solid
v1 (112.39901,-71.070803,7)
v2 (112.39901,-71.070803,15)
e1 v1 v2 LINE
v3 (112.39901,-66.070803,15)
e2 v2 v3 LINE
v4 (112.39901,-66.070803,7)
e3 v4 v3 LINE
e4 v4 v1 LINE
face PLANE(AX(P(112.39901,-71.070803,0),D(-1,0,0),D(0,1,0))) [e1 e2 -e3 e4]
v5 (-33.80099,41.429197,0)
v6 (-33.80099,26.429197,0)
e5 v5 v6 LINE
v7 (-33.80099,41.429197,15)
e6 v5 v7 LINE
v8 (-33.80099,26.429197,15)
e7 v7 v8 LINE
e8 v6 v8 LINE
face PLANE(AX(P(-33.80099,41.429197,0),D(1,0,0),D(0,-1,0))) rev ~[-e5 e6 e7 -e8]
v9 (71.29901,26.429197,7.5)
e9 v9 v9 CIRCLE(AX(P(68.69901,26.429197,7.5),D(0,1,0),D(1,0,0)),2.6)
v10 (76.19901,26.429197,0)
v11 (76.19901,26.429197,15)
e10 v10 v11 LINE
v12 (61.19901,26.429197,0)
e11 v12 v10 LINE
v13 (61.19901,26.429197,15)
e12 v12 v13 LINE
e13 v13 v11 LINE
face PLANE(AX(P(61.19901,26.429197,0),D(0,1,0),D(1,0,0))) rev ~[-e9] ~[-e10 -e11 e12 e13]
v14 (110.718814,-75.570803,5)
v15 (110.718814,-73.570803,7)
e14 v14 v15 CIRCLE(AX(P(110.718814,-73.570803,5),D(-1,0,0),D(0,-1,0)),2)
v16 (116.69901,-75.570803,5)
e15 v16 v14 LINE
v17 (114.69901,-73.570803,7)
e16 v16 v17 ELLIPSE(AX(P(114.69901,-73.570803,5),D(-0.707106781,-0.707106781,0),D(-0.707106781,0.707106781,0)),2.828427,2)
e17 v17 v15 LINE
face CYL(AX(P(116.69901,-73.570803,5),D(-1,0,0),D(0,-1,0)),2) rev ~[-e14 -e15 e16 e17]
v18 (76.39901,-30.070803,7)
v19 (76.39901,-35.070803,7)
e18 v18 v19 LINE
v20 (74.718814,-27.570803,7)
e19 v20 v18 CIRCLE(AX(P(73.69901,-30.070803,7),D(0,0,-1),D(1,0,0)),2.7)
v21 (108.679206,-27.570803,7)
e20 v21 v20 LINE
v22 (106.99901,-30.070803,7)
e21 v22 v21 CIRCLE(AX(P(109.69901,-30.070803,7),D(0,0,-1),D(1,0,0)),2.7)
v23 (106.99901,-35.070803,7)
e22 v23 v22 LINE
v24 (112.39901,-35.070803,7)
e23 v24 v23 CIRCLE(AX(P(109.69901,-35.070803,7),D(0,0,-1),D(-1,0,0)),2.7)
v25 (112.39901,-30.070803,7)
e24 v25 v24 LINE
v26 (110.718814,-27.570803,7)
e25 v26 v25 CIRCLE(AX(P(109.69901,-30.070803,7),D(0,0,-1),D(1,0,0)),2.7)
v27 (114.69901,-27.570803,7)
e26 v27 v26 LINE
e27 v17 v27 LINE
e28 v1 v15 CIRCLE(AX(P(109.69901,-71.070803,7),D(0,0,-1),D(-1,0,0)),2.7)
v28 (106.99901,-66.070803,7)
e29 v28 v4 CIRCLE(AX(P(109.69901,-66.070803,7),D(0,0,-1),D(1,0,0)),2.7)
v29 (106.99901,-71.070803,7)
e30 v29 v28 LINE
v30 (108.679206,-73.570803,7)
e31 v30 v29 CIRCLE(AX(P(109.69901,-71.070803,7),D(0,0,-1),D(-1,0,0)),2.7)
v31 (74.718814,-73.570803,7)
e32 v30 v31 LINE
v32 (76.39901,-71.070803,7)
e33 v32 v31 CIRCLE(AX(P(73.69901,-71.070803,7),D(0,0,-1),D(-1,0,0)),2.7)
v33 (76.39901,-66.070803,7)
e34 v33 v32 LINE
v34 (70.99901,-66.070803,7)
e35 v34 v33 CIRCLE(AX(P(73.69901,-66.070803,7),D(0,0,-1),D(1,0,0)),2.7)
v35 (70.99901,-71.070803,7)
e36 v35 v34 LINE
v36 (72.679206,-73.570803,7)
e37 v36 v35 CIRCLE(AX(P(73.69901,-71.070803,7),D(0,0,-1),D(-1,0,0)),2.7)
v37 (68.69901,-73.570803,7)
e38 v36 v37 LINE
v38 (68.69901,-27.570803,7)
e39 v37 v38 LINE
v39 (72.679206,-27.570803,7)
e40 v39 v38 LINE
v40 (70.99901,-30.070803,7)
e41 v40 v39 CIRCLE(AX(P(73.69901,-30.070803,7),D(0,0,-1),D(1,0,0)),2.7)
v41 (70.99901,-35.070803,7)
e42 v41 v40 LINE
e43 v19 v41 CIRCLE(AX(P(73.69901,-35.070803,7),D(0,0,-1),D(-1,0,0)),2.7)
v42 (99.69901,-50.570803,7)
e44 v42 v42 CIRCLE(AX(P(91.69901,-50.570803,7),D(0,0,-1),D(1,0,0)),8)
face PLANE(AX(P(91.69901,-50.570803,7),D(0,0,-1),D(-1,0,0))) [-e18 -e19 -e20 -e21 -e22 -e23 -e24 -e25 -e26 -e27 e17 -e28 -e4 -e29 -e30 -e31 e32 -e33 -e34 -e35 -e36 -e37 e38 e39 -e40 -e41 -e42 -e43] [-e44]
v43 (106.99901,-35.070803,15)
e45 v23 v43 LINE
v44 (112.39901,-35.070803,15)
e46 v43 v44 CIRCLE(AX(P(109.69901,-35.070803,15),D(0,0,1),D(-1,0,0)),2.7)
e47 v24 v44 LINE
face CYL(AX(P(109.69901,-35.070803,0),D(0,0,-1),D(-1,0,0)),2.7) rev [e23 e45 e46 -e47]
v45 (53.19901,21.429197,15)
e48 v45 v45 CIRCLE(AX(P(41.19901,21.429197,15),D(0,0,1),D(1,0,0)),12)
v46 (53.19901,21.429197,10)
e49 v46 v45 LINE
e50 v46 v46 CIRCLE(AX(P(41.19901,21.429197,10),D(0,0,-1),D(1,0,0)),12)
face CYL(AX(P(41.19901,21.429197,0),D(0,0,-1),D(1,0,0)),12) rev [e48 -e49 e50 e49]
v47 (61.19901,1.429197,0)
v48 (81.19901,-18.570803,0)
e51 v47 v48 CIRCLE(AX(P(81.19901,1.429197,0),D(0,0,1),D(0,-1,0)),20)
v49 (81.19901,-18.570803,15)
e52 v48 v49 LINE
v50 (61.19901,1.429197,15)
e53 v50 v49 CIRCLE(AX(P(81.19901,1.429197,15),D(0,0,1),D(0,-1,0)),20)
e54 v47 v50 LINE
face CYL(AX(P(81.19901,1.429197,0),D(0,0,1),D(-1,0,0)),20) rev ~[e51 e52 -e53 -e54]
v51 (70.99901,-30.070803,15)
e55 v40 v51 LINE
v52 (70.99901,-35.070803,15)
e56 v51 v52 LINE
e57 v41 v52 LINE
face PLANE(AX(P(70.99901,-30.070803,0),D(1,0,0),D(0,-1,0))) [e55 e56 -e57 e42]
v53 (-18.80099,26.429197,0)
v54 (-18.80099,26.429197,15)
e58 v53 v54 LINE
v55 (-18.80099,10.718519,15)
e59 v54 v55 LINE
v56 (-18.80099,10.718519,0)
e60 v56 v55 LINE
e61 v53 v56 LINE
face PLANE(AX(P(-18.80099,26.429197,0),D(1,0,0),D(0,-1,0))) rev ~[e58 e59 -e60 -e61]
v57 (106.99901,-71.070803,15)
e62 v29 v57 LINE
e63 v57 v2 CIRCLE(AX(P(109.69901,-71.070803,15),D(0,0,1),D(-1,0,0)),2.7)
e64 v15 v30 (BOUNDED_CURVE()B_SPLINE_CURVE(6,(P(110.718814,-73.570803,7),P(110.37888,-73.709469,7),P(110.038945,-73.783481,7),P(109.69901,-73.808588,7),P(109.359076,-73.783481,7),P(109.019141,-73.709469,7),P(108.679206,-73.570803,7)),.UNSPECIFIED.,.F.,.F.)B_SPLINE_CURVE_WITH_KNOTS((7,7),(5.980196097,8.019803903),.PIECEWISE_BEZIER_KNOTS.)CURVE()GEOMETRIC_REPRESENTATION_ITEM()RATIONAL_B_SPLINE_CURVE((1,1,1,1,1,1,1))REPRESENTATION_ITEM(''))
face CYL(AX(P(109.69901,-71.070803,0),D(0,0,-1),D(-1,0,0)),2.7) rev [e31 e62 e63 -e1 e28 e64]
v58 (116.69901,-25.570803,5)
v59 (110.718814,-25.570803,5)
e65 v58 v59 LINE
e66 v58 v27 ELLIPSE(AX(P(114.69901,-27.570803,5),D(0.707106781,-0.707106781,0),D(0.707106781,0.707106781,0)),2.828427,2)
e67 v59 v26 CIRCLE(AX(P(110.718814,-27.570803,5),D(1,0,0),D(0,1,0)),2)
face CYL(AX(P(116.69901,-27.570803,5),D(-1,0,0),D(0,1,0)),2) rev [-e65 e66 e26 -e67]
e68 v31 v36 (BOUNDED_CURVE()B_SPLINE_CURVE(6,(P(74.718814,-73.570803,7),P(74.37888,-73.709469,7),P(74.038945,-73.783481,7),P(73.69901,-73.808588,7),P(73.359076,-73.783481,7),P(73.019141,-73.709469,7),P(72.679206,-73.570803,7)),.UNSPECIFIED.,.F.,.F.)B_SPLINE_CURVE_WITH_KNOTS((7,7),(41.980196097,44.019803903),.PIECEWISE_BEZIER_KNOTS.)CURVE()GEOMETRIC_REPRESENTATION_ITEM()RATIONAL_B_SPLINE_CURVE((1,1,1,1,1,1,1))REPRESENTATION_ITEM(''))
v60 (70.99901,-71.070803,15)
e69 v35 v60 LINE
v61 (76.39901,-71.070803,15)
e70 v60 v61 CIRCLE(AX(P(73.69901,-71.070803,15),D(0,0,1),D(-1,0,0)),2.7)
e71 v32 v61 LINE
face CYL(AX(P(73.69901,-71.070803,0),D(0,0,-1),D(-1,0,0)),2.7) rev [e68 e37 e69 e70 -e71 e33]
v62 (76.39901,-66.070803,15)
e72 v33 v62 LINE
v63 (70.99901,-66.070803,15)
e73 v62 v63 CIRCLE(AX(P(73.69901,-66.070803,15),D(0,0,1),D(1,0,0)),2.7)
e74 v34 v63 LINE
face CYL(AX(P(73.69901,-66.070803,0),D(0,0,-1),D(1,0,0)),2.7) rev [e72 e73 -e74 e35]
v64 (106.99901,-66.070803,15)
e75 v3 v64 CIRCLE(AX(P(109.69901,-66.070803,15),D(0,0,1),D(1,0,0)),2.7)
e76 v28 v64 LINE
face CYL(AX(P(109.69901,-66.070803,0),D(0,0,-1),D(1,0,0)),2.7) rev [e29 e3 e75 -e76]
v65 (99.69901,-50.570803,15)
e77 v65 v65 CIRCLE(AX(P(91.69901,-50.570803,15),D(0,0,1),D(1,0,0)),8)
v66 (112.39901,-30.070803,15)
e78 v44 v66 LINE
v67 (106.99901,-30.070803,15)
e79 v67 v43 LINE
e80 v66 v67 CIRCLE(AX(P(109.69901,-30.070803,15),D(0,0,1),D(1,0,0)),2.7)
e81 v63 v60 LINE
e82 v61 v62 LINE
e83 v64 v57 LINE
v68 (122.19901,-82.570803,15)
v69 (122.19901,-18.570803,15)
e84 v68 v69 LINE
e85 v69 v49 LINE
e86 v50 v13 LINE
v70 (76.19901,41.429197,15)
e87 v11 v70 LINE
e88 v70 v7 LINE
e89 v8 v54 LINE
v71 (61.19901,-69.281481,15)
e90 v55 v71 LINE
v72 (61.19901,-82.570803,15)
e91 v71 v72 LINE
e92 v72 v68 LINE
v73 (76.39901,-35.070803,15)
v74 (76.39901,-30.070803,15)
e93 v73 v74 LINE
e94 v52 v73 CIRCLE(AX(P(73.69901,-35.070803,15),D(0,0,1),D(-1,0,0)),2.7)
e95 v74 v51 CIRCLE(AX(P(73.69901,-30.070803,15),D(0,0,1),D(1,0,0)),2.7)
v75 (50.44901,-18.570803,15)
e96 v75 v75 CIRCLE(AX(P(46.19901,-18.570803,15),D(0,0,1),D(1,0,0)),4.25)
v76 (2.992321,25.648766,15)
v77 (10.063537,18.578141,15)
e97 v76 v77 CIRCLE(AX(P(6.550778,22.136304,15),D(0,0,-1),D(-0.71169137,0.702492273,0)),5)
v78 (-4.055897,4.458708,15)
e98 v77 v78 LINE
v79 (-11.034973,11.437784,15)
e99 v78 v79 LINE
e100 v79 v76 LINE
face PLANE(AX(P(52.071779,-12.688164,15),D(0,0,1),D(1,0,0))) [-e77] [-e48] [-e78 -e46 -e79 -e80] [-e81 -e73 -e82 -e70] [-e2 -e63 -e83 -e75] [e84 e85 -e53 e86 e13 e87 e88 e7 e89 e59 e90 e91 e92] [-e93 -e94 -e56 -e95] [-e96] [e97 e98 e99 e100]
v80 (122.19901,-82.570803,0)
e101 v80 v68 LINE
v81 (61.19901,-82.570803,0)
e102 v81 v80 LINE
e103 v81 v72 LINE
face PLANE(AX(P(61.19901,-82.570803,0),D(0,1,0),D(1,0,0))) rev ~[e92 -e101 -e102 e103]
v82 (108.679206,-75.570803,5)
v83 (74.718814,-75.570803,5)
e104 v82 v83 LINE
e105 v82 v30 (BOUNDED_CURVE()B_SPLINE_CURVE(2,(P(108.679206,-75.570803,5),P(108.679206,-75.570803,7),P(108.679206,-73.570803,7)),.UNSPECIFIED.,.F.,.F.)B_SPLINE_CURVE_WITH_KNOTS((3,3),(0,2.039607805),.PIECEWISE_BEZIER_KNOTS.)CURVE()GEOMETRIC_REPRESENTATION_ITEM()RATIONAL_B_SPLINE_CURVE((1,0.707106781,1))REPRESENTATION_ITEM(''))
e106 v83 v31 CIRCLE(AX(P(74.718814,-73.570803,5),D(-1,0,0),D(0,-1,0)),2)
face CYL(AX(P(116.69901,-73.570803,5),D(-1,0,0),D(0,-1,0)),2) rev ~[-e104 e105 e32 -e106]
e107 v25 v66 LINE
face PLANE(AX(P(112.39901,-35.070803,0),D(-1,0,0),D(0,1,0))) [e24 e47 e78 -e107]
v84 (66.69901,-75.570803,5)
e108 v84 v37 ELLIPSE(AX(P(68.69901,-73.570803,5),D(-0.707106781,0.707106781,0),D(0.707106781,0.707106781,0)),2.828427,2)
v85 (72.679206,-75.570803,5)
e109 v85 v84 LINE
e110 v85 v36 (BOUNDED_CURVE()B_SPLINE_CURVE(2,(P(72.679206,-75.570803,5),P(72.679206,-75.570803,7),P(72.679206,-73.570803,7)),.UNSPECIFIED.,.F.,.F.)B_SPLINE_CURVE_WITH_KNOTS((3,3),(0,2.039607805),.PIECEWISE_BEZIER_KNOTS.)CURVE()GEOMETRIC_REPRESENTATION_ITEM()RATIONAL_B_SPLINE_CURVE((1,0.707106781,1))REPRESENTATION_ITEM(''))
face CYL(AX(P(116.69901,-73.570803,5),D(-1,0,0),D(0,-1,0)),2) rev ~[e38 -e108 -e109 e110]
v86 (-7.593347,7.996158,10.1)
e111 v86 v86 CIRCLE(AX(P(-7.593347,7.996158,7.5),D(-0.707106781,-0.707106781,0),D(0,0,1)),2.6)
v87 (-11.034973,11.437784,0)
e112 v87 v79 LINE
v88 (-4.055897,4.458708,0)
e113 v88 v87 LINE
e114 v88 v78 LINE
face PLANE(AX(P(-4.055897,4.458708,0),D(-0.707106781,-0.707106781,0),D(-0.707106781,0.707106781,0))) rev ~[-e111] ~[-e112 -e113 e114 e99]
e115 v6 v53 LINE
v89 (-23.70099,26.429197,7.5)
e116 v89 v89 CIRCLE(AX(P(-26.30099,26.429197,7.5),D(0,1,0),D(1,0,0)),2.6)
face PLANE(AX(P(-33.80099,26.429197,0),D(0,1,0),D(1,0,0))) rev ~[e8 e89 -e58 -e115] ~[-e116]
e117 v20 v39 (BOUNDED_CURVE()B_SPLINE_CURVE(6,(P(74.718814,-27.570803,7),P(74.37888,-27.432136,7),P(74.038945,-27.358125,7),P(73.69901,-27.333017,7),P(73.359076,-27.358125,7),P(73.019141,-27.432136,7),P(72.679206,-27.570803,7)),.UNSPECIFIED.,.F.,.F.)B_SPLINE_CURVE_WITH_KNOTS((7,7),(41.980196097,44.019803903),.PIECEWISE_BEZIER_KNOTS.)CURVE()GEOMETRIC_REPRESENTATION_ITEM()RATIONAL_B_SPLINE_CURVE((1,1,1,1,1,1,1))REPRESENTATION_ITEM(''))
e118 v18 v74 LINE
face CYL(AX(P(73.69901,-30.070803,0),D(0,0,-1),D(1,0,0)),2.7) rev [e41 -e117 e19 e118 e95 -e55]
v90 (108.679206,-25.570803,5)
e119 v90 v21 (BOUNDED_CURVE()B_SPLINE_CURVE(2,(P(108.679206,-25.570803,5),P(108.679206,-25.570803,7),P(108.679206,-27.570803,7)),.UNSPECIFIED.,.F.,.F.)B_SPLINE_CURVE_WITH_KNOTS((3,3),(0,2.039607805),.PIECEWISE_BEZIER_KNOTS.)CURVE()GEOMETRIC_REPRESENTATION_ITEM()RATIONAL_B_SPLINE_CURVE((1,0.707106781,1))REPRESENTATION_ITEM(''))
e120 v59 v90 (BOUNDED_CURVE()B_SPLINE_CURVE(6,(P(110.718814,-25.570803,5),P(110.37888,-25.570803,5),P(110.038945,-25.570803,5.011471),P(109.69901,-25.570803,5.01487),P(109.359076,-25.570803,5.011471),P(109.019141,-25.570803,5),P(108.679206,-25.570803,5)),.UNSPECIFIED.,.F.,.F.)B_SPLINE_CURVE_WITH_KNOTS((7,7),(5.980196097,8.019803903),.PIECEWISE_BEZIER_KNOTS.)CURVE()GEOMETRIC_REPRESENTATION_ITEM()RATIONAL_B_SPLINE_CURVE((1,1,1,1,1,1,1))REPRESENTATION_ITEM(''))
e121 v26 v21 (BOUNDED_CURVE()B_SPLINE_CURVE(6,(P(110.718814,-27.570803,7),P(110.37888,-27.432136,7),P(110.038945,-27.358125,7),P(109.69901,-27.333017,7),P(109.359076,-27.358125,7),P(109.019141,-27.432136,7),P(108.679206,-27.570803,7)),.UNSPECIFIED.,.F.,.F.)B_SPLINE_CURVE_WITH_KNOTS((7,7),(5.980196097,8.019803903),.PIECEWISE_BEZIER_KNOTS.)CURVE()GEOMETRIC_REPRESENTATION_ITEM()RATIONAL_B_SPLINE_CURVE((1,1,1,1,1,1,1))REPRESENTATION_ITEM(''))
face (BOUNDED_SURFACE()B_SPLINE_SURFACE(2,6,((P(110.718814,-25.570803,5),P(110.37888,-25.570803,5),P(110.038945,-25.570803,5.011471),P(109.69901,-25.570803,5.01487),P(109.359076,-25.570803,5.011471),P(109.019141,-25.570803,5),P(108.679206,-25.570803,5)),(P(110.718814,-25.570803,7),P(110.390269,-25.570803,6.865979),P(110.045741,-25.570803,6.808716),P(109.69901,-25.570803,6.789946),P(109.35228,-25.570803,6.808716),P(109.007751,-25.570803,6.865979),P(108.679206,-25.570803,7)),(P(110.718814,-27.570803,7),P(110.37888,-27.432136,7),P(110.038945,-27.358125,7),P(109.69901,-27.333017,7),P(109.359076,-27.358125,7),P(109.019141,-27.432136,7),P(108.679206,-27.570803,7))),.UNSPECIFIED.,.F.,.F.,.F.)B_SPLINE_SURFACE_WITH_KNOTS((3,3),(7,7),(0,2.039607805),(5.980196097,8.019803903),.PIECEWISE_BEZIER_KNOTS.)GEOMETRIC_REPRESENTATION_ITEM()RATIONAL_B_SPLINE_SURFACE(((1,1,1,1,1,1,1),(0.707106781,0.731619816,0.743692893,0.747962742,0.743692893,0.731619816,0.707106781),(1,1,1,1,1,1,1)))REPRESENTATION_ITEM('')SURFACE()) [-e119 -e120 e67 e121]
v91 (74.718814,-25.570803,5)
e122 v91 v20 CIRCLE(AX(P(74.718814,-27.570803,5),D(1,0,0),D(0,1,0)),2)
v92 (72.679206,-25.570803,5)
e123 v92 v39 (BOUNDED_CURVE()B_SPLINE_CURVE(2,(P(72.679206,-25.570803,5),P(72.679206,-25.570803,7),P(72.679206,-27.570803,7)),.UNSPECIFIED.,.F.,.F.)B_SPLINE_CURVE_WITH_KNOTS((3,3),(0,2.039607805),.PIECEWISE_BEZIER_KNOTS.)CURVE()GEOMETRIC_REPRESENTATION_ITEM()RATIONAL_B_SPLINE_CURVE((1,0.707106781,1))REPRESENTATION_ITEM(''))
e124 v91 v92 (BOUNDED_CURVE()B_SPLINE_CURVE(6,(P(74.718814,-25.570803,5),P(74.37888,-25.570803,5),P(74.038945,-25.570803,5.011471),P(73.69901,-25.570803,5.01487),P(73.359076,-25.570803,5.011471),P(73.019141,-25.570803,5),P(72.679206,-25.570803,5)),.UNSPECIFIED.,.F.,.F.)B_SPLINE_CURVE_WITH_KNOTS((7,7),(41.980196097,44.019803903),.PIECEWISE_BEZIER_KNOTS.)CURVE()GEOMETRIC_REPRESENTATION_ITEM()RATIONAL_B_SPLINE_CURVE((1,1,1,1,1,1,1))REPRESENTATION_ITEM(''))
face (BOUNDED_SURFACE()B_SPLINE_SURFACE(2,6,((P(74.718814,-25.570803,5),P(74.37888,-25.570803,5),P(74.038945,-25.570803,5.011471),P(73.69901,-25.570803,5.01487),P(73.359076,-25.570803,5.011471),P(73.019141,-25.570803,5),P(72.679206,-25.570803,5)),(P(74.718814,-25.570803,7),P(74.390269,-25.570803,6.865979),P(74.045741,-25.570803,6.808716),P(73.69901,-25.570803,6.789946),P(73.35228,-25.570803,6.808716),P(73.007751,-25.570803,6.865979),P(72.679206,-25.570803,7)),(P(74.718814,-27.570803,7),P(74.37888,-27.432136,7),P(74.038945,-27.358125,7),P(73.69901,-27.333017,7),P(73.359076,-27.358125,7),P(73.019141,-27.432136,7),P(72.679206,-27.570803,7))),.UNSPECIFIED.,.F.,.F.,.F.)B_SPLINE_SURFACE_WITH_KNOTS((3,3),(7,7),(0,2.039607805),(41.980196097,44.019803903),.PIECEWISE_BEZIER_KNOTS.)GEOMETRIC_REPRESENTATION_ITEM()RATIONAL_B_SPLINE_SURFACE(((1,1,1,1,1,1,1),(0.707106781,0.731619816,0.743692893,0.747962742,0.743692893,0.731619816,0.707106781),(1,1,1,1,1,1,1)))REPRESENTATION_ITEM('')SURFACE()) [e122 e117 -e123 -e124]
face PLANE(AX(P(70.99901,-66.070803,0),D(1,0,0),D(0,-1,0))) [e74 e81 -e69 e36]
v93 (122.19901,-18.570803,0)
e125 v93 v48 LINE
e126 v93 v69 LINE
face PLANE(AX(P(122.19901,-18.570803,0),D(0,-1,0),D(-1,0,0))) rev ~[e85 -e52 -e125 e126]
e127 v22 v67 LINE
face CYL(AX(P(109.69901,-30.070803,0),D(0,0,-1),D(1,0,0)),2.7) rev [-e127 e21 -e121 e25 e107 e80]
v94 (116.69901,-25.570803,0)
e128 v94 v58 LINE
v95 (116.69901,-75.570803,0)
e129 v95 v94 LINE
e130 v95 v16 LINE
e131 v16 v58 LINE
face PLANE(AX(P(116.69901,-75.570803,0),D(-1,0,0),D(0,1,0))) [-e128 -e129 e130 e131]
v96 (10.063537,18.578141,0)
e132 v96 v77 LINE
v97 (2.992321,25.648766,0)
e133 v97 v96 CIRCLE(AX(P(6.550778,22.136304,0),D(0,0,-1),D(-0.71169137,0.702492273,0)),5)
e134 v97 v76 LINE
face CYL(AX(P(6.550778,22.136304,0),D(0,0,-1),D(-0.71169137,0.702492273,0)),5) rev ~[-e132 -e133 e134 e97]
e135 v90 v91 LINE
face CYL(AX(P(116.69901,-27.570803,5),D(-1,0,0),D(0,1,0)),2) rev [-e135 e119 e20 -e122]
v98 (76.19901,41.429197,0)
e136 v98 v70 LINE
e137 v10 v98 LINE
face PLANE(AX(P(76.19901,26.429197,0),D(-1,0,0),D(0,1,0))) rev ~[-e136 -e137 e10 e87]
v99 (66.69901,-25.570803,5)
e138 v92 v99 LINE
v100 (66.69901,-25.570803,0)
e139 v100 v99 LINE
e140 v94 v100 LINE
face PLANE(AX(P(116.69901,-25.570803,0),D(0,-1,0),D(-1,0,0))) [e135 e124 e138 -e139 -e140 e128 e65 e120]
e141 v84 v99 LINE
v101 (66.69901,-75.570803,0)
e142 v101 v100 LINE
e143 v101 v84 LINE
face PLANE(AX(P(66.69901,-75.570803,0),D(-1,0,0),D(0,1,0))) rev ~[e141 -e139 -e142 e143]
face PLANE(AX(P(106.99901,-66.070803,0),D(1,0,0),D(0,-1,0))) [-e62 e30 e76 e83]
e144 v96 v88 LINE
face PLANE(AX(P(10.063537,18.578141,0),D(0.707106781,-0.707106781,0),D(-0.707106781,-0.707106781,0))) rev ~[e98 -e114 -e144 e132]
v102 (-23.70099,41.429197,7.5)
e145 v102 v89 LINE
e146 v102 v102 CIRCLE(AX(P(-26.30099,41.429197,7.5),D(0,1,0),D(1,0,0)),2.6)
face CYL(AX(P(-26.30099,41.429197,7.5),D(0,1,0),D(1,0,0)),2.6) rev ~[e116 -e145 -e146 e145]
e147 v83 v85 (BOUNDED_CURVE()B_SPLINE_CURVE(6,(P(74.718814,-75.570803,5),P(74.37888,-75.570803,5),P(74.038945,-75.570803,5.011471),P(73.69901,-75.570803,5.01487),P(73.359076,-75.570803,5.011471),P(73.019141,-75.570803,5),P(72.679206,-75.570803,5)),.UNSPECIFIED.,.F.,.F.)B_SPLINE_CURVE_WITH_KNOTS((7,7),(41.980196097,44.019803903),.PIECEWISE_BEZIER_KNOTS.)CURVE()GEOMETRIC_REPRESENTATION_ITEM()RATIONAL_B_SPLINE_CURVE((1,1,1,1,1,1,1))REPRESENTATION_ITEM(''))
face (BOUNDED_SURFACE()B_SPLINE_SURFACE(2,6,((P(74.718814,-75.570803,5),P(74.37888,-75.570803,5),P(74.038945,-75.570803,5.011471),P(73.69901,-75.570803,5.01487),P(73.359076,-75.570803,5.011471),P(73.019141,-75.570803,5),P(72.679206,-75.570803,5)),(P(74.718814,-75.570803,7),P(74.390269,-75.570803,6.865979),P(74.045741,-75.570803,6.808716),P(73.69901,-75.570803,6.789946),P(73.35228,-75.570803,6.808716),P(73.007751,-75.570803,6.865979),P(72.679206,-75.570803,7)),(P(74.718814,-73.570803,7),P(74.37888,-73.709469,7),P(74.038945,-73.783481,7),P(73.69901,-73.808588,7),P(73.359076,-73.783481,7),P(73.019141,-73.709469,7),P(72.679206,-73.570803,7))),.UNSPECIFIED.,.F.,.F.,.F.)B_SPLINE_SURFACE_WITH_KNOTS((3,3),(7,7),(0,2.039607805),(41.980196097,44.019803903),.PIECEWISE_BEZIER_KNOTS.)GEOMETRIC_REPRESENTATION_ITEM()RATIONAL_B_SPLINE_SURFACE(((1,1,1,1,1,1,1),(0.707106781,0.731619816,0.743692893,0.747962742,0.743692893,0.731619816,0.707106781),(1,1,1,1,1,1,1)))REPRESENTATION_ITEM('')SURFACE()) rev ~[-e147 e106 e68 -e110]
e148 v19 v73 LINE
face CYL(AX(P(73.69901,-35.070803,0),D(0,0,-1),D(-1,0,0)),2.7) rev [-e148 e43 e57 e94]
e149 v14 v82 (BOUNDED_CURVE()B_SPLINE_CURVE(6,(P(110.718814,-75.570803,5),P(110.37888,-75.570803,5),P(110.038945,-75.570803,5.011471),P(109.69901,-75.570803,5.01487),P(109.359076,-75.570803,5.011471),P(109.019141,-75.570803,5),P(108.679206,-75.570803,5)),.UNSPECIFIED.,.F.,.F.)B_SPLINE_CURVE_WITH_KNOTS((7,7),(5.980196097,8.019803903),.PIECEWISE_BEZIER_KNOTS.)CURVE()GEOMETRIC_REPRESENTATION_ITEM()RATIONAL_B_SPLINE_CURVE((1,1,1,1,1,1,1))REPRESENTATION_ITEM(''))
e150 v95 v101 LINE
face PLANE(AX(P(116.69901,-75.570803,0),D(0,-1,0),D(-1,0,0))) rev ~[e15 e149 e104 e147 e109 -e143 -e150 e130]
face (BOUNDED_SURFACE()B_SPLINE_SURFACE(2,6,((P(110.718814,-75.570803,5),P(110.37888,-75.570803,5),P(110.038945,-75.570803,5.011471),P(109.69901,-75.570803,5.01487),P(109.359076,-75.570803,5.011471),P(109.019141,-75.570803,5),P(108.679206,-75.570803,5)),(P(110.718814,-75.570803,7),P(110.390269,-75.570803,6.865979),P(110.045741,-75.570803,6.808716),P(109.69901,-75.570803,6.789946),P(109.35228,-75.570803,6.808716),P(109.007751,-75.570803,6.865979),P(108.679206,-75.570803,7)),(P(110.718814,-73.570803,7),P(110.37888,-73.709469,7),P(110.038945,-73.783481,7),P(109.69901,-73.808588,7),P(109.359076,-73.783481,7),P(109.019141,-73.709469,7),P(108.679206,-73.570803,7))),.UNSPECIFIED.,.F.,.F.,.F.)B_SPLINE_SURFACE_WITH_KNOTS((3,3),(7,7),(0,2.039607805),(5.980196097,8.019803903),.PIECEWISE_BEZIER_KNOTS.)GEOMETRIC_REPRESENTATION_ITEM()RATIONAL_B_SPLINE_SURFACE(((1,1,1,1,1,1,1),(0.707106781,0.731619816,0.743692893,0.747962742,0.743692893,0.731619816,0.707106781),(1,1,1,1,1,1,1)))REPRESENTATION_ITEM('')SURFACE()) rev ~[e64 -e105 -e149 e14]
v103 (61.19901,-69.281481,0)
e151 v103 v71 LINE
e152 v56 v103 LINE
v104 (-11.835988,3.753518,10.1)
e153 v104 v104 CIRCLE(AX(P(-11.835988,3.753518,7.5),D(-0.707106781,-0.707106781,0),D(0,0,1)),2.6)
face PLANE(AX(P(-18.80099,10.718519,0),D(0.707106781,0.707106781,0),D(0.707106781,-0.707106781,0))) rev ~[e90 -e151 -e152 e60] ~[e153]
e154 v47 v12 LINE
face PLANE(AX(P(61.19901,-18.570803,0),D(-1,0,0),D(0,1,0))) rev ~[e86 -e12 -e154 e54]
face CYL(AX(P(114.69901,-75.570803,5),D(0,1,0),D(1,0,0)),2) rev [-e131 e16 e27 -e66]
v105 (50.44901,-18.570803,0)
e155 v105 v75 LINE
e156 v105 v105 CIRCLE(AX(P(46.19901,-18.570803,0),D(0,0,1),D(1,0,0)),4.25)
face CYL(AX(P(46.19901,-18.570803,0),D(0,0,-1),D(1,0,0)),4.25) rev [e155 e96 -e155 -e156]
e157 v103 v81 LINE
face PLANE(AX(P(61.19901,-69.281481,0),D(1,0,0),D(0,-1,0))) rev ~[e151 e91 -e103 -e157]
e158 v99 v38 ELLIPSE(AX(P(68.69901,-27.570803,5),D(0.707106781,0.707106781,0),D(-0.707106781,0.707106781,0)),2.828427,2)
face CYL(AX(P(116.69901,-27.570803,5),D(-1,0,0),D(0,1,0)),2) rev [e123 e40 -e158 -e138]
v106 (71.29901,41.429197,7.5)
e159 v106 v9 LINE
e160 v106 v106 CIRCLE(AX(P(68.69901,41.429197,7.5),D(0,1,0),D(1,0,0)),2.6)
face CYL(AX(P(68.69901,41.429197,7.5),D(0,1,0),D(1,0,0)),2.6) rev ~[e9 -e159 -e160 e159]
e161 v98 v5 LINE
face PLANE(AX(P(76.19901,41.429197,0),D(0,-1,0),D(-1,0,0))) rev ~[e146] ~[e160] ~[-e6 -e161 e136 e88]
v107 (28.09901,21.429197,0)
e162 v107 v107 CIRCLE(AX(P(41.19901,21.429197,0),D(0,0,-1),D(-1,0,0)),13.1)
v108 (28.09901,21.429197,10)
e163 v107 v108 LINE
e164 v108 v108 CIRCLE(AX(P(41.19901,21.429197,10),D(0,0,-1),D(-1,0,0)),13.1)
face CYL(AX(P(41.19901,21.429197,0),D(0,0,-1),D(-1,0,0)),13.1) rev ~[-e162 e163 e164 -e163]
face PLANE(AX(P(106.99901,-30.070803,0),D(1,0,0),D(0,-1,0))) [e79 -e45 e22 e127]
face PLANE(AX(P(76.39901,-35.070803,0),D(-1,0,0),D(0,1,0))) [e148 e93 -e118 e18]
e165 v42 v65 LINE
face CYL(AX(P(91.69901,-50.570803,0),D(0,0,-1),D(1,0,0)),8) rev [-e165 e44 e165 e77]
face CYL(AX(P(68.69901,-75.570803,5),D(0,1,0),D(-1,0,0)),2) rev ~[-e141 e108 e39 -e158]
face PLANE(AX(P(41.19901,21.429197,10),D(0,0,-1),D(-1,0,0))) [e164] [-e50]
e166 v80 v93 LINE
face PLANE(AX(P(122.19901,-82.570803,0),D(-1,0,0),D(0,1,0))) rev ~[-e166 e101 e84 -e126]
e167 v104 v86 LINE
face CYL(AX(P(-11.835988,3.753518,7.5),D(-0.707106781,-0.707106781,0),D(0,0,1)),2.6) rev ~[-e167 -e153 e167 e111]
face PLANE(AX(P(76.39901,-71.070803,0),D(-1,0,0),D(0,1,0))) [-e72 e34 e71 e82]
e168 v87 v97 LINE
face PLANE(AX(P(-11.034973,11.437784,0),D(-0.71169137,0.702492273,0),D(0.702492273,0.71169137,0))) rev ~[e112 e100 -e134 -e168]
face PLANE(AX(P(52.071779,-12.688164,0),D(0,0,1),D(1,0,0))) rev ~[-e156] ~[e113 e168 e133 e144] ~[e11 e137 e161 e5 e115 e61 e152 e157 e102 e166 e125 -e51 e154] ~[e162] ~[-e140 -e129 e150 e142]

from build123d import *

# Parameters (mm, degrees)
SKETCH_1_R          = 12
SKETCH_1_R_2        = 4.25
SKETCH_1_R_3        = 8
EXTRUDE_1_DEPTH     = 15
SKETCH_2_R          = 13.1
CUT_EXTRUDE_1_DEPTH = 10
CUT_EXTRUDE_2_REACH = 176.739
SKETCH_3_R          = 2.6
SKETCH_5_R          = 2.6
CUT_EXTRUDE_3_DEPTH = 10
SKETCH_6_W          = 50
SKETCH_6_H          = 50
CUT_EXTRUDE_4_DEPTH = 7
FILLET_1_R          = 2
FILLET_2_R          = 20


with BuildPart() as part:
    # 草图1 → 凸台-拉伸1 (new body)
    with BuildSketch(Plane.XY):
        Polygon((-33.800989673, 26.429197467), (-27.44059998, 26.429197467), (-18.800989673, 26.429197467), (-18.800989673, 10.718519348), (61.199010327, -69.281480652), (61.199010327, -82.570802533), (122.199010327, -82.570802533), (122.199010327, -18.570802533), (61.199010327, -18.570802533), (61.199010327, 26.429197467), (76.199010327, 26.429197467), (76.199010327, 41.429197467), (56.199010327, 41.429197467), (-33.800989673, 41.429197467), align=None)
        with Locations((41.199010327, 21.429197467)):
            Circle(SKETCH_1_R, mode=Mode.SUBTRACT)
        with Locations((46.199010327, -18.570802533)):
            Circle(SKETCH_1_R_2, mode=Mode.SUBTRACT)
        with Locations((91.699010327, -50.570802533)):
            Circle(SKETCH_1_R_3, mode=Mode.SUBTRACT)
        with BuildLine():
            Line((-11.034973369, 11.437784418), (2.9923212, 25.648765615))
            ThreePointArc((2.9923212, 25.648765615), (10.086164278, 25.671985824), (10.063536665, 18.57814083))
            Line((10.063536665, 18.57814083), (-4.055896558, 4.458707607))
            Line((-4.055896558, 4.458707607), (-11.034973369, 11.437784418))
        make_face(mode=Mode.SUBTRACT)
        with BuildLine():
            Line((106.999010327, -30.070802533), (106.999010327, -35.070802533))
            ThreePointArc((106.999010327, -35.070802533), (109.699010327, -37.770802533), (112.399010327, -35.070802533))
            Line((112.399010327, -35.070802533), (112.399010327, -30.070802533))
            ThreePointArc((112.399010327, -30.070802533), (109.699010327, -27.370802533), (106.999010327, -30.070802533))
        make_face(mode=Mode.SUBTRACT)
        with BuildLine():
            Line((70.999010327, -30.070802533), (70.999010327, -35.070802533))
            ThreePointArc((70.999010327, -35.070802533), (73.699010327, -37.770802533), (76.399010327, -35.070802533))
            Line((76.399010327, -35.070802533), (76.399010327, -30.070802533))
            ThreePointArc((76.399010327, -30.070802533), (73.699010327, -27.370802533), (70.999010327, -30.070802533))
        make_face(mode=Mode.SUBTRACT)
        with BuildLine():
            Line((76.399010327, -71.070802533), (76.399010327, -66.070802533))
            ThreePointArc((76.399010327, -66.070802533), (73.699010327, -63.370802533), (70.999010327, -66.070802533))
            Line((70.999010327, -66.070802533), (70.999010327, -71.070802533))
            ThreePointArc((70.999010327, -71.070802533), (73.699010327, -73.770802533), (76.399010327, -71.070802533))
        make_face(mode=Mode.SUBTRACT)
        with BuildLine():
            Line((112.399010327, -71.070802533), (112.399010327, -66.070802533))
            ThreePointArc((112.399010327, -66.070802533), (109.699010327, -63.370802533), (106.999010327, -66.070802533))
            Line((106.999010327, -66.070802533), (106.999010327, -71.070802533))
            ThreePointArc((106.999010327, -71.070802533), (109.699010327, -73.770802533), (112.399010327, -71.070802533))
        make_face(mode=Mode.SUBTRACT)
    extrude(amount=EXTRUDE_1_DEPTH)

    # 草图2 → 切除-拉伸1 (cut)
    with BuildSketch(Plane(origin=(0, 0, 0), x_dir=(-1, 0, 0), z_dir=(0, 0, -1))):
        with Locations((-41.199010327, 21.429197467)):
            Circle(SKETCH_2_R)
    extrude(amount=-CUT_EXTRUDE_1_DEPTH, mode=Mode.SUBTRACT)

    # 草图3 → 切除-拉伸2 (cut, up to next)
    with BuildSketch(Plane(origin=(0, 41.429197467, 0), x_dir=(1, 0, 0), z_dir=(0, 1, 0)), mode=Mode.PRIVATE) as cut_extrude_2_sk1:
        with Locations((-26.300989673, -7.5)):
            Circle(SKETCH_3_R)
    cut_extrude_2_tool1 = extrude(cut_extrude_2_sk1.sketch, amount=-CUT_EXTRUDE_2_REACH, mode=Mode.PRIVATE) & part.part
    # 草图3 → 切除-拉伸2 (cut, up to next)
    with BuildSketch(Plane(origin=(0, 41.429197467, 0), x_dir=(1, 0, 0), z_dir=(0, 1, 0)), mode=Mode.PRIVATE) as cut_extrude_2_sk2:
        with Locations((68.699010327, -7.5)):
            Circle(SKETCH_3_R)
    cut_extrude_2_tool2 = extrude(cut_extrude_2_sk2.sketch, amount=-CUT_EXTRUDE_2_REACH, mode=Mode.PRIVATE) & part.part
    add(cut_extrude_2_tool1.solids().sort_by_distance((-26.30099, 41.429197, 7.5))[0], mode=Mode.SUBTRACT)
    add(cut_extrude_2_tool2.solids().sort_by_distance((68.69901, 41.429197, 7.5))[0], mode=Mode.SUBTRACT)

    # 草图5 → 切除-拉伸3 (cut)
    with BuildSketch(Plane(origin=(-4.041235162, -4.041235162, 0), x_dir=(0, 0, 1), z_dir=(-0.7071067811865485, -0.7071067811865467, 0))):
        with Locations((7.5, 11.023445006)):
            Circle(SKETCH_5_R)
    extrude(amount=-CUT_EXTRUDE_3_DEPTH, mode=Mode.SUBTRACT)

    # 草图6 → 切除-拉伸4 (cut)
    with BuildSketch(Plane(origin=(0, 0, 0), x_dir=(-1, 0, 0), z_dir=(0, 0, -1))):
        with Locations((-91.699010327, -50.570802533)):
            Rectangle(SKETCH_6_W, SKETCH_6_H)
    extrude(amount=-CUT_EXTRUDE_4_DEPTH, mode=Mode.SUBTRACT)

    # 圆角1
    fillet_1_edges = [part.edges().sort_by_distance(p)[0] for p in [
        (91.699010327, -75.570802533, 7),
        (116.699010327, -50.570802533, 7),
        (66.699010327, -50.570802533, 7),
        (91.699010327, -25.570802533, 7),
    ]]
    fillet(fillet_1_edges, radius=FILLET_1_R)

    # 圆角2
    fillet_2_edges = [part.edges().sort_by_distance(p)[0] for p in [
        (61.199010327, -18.570802533, 7.5),
    ]]
    fillet(fillet_2_edges, radius=FILLET_2_R)


solid = part.part
